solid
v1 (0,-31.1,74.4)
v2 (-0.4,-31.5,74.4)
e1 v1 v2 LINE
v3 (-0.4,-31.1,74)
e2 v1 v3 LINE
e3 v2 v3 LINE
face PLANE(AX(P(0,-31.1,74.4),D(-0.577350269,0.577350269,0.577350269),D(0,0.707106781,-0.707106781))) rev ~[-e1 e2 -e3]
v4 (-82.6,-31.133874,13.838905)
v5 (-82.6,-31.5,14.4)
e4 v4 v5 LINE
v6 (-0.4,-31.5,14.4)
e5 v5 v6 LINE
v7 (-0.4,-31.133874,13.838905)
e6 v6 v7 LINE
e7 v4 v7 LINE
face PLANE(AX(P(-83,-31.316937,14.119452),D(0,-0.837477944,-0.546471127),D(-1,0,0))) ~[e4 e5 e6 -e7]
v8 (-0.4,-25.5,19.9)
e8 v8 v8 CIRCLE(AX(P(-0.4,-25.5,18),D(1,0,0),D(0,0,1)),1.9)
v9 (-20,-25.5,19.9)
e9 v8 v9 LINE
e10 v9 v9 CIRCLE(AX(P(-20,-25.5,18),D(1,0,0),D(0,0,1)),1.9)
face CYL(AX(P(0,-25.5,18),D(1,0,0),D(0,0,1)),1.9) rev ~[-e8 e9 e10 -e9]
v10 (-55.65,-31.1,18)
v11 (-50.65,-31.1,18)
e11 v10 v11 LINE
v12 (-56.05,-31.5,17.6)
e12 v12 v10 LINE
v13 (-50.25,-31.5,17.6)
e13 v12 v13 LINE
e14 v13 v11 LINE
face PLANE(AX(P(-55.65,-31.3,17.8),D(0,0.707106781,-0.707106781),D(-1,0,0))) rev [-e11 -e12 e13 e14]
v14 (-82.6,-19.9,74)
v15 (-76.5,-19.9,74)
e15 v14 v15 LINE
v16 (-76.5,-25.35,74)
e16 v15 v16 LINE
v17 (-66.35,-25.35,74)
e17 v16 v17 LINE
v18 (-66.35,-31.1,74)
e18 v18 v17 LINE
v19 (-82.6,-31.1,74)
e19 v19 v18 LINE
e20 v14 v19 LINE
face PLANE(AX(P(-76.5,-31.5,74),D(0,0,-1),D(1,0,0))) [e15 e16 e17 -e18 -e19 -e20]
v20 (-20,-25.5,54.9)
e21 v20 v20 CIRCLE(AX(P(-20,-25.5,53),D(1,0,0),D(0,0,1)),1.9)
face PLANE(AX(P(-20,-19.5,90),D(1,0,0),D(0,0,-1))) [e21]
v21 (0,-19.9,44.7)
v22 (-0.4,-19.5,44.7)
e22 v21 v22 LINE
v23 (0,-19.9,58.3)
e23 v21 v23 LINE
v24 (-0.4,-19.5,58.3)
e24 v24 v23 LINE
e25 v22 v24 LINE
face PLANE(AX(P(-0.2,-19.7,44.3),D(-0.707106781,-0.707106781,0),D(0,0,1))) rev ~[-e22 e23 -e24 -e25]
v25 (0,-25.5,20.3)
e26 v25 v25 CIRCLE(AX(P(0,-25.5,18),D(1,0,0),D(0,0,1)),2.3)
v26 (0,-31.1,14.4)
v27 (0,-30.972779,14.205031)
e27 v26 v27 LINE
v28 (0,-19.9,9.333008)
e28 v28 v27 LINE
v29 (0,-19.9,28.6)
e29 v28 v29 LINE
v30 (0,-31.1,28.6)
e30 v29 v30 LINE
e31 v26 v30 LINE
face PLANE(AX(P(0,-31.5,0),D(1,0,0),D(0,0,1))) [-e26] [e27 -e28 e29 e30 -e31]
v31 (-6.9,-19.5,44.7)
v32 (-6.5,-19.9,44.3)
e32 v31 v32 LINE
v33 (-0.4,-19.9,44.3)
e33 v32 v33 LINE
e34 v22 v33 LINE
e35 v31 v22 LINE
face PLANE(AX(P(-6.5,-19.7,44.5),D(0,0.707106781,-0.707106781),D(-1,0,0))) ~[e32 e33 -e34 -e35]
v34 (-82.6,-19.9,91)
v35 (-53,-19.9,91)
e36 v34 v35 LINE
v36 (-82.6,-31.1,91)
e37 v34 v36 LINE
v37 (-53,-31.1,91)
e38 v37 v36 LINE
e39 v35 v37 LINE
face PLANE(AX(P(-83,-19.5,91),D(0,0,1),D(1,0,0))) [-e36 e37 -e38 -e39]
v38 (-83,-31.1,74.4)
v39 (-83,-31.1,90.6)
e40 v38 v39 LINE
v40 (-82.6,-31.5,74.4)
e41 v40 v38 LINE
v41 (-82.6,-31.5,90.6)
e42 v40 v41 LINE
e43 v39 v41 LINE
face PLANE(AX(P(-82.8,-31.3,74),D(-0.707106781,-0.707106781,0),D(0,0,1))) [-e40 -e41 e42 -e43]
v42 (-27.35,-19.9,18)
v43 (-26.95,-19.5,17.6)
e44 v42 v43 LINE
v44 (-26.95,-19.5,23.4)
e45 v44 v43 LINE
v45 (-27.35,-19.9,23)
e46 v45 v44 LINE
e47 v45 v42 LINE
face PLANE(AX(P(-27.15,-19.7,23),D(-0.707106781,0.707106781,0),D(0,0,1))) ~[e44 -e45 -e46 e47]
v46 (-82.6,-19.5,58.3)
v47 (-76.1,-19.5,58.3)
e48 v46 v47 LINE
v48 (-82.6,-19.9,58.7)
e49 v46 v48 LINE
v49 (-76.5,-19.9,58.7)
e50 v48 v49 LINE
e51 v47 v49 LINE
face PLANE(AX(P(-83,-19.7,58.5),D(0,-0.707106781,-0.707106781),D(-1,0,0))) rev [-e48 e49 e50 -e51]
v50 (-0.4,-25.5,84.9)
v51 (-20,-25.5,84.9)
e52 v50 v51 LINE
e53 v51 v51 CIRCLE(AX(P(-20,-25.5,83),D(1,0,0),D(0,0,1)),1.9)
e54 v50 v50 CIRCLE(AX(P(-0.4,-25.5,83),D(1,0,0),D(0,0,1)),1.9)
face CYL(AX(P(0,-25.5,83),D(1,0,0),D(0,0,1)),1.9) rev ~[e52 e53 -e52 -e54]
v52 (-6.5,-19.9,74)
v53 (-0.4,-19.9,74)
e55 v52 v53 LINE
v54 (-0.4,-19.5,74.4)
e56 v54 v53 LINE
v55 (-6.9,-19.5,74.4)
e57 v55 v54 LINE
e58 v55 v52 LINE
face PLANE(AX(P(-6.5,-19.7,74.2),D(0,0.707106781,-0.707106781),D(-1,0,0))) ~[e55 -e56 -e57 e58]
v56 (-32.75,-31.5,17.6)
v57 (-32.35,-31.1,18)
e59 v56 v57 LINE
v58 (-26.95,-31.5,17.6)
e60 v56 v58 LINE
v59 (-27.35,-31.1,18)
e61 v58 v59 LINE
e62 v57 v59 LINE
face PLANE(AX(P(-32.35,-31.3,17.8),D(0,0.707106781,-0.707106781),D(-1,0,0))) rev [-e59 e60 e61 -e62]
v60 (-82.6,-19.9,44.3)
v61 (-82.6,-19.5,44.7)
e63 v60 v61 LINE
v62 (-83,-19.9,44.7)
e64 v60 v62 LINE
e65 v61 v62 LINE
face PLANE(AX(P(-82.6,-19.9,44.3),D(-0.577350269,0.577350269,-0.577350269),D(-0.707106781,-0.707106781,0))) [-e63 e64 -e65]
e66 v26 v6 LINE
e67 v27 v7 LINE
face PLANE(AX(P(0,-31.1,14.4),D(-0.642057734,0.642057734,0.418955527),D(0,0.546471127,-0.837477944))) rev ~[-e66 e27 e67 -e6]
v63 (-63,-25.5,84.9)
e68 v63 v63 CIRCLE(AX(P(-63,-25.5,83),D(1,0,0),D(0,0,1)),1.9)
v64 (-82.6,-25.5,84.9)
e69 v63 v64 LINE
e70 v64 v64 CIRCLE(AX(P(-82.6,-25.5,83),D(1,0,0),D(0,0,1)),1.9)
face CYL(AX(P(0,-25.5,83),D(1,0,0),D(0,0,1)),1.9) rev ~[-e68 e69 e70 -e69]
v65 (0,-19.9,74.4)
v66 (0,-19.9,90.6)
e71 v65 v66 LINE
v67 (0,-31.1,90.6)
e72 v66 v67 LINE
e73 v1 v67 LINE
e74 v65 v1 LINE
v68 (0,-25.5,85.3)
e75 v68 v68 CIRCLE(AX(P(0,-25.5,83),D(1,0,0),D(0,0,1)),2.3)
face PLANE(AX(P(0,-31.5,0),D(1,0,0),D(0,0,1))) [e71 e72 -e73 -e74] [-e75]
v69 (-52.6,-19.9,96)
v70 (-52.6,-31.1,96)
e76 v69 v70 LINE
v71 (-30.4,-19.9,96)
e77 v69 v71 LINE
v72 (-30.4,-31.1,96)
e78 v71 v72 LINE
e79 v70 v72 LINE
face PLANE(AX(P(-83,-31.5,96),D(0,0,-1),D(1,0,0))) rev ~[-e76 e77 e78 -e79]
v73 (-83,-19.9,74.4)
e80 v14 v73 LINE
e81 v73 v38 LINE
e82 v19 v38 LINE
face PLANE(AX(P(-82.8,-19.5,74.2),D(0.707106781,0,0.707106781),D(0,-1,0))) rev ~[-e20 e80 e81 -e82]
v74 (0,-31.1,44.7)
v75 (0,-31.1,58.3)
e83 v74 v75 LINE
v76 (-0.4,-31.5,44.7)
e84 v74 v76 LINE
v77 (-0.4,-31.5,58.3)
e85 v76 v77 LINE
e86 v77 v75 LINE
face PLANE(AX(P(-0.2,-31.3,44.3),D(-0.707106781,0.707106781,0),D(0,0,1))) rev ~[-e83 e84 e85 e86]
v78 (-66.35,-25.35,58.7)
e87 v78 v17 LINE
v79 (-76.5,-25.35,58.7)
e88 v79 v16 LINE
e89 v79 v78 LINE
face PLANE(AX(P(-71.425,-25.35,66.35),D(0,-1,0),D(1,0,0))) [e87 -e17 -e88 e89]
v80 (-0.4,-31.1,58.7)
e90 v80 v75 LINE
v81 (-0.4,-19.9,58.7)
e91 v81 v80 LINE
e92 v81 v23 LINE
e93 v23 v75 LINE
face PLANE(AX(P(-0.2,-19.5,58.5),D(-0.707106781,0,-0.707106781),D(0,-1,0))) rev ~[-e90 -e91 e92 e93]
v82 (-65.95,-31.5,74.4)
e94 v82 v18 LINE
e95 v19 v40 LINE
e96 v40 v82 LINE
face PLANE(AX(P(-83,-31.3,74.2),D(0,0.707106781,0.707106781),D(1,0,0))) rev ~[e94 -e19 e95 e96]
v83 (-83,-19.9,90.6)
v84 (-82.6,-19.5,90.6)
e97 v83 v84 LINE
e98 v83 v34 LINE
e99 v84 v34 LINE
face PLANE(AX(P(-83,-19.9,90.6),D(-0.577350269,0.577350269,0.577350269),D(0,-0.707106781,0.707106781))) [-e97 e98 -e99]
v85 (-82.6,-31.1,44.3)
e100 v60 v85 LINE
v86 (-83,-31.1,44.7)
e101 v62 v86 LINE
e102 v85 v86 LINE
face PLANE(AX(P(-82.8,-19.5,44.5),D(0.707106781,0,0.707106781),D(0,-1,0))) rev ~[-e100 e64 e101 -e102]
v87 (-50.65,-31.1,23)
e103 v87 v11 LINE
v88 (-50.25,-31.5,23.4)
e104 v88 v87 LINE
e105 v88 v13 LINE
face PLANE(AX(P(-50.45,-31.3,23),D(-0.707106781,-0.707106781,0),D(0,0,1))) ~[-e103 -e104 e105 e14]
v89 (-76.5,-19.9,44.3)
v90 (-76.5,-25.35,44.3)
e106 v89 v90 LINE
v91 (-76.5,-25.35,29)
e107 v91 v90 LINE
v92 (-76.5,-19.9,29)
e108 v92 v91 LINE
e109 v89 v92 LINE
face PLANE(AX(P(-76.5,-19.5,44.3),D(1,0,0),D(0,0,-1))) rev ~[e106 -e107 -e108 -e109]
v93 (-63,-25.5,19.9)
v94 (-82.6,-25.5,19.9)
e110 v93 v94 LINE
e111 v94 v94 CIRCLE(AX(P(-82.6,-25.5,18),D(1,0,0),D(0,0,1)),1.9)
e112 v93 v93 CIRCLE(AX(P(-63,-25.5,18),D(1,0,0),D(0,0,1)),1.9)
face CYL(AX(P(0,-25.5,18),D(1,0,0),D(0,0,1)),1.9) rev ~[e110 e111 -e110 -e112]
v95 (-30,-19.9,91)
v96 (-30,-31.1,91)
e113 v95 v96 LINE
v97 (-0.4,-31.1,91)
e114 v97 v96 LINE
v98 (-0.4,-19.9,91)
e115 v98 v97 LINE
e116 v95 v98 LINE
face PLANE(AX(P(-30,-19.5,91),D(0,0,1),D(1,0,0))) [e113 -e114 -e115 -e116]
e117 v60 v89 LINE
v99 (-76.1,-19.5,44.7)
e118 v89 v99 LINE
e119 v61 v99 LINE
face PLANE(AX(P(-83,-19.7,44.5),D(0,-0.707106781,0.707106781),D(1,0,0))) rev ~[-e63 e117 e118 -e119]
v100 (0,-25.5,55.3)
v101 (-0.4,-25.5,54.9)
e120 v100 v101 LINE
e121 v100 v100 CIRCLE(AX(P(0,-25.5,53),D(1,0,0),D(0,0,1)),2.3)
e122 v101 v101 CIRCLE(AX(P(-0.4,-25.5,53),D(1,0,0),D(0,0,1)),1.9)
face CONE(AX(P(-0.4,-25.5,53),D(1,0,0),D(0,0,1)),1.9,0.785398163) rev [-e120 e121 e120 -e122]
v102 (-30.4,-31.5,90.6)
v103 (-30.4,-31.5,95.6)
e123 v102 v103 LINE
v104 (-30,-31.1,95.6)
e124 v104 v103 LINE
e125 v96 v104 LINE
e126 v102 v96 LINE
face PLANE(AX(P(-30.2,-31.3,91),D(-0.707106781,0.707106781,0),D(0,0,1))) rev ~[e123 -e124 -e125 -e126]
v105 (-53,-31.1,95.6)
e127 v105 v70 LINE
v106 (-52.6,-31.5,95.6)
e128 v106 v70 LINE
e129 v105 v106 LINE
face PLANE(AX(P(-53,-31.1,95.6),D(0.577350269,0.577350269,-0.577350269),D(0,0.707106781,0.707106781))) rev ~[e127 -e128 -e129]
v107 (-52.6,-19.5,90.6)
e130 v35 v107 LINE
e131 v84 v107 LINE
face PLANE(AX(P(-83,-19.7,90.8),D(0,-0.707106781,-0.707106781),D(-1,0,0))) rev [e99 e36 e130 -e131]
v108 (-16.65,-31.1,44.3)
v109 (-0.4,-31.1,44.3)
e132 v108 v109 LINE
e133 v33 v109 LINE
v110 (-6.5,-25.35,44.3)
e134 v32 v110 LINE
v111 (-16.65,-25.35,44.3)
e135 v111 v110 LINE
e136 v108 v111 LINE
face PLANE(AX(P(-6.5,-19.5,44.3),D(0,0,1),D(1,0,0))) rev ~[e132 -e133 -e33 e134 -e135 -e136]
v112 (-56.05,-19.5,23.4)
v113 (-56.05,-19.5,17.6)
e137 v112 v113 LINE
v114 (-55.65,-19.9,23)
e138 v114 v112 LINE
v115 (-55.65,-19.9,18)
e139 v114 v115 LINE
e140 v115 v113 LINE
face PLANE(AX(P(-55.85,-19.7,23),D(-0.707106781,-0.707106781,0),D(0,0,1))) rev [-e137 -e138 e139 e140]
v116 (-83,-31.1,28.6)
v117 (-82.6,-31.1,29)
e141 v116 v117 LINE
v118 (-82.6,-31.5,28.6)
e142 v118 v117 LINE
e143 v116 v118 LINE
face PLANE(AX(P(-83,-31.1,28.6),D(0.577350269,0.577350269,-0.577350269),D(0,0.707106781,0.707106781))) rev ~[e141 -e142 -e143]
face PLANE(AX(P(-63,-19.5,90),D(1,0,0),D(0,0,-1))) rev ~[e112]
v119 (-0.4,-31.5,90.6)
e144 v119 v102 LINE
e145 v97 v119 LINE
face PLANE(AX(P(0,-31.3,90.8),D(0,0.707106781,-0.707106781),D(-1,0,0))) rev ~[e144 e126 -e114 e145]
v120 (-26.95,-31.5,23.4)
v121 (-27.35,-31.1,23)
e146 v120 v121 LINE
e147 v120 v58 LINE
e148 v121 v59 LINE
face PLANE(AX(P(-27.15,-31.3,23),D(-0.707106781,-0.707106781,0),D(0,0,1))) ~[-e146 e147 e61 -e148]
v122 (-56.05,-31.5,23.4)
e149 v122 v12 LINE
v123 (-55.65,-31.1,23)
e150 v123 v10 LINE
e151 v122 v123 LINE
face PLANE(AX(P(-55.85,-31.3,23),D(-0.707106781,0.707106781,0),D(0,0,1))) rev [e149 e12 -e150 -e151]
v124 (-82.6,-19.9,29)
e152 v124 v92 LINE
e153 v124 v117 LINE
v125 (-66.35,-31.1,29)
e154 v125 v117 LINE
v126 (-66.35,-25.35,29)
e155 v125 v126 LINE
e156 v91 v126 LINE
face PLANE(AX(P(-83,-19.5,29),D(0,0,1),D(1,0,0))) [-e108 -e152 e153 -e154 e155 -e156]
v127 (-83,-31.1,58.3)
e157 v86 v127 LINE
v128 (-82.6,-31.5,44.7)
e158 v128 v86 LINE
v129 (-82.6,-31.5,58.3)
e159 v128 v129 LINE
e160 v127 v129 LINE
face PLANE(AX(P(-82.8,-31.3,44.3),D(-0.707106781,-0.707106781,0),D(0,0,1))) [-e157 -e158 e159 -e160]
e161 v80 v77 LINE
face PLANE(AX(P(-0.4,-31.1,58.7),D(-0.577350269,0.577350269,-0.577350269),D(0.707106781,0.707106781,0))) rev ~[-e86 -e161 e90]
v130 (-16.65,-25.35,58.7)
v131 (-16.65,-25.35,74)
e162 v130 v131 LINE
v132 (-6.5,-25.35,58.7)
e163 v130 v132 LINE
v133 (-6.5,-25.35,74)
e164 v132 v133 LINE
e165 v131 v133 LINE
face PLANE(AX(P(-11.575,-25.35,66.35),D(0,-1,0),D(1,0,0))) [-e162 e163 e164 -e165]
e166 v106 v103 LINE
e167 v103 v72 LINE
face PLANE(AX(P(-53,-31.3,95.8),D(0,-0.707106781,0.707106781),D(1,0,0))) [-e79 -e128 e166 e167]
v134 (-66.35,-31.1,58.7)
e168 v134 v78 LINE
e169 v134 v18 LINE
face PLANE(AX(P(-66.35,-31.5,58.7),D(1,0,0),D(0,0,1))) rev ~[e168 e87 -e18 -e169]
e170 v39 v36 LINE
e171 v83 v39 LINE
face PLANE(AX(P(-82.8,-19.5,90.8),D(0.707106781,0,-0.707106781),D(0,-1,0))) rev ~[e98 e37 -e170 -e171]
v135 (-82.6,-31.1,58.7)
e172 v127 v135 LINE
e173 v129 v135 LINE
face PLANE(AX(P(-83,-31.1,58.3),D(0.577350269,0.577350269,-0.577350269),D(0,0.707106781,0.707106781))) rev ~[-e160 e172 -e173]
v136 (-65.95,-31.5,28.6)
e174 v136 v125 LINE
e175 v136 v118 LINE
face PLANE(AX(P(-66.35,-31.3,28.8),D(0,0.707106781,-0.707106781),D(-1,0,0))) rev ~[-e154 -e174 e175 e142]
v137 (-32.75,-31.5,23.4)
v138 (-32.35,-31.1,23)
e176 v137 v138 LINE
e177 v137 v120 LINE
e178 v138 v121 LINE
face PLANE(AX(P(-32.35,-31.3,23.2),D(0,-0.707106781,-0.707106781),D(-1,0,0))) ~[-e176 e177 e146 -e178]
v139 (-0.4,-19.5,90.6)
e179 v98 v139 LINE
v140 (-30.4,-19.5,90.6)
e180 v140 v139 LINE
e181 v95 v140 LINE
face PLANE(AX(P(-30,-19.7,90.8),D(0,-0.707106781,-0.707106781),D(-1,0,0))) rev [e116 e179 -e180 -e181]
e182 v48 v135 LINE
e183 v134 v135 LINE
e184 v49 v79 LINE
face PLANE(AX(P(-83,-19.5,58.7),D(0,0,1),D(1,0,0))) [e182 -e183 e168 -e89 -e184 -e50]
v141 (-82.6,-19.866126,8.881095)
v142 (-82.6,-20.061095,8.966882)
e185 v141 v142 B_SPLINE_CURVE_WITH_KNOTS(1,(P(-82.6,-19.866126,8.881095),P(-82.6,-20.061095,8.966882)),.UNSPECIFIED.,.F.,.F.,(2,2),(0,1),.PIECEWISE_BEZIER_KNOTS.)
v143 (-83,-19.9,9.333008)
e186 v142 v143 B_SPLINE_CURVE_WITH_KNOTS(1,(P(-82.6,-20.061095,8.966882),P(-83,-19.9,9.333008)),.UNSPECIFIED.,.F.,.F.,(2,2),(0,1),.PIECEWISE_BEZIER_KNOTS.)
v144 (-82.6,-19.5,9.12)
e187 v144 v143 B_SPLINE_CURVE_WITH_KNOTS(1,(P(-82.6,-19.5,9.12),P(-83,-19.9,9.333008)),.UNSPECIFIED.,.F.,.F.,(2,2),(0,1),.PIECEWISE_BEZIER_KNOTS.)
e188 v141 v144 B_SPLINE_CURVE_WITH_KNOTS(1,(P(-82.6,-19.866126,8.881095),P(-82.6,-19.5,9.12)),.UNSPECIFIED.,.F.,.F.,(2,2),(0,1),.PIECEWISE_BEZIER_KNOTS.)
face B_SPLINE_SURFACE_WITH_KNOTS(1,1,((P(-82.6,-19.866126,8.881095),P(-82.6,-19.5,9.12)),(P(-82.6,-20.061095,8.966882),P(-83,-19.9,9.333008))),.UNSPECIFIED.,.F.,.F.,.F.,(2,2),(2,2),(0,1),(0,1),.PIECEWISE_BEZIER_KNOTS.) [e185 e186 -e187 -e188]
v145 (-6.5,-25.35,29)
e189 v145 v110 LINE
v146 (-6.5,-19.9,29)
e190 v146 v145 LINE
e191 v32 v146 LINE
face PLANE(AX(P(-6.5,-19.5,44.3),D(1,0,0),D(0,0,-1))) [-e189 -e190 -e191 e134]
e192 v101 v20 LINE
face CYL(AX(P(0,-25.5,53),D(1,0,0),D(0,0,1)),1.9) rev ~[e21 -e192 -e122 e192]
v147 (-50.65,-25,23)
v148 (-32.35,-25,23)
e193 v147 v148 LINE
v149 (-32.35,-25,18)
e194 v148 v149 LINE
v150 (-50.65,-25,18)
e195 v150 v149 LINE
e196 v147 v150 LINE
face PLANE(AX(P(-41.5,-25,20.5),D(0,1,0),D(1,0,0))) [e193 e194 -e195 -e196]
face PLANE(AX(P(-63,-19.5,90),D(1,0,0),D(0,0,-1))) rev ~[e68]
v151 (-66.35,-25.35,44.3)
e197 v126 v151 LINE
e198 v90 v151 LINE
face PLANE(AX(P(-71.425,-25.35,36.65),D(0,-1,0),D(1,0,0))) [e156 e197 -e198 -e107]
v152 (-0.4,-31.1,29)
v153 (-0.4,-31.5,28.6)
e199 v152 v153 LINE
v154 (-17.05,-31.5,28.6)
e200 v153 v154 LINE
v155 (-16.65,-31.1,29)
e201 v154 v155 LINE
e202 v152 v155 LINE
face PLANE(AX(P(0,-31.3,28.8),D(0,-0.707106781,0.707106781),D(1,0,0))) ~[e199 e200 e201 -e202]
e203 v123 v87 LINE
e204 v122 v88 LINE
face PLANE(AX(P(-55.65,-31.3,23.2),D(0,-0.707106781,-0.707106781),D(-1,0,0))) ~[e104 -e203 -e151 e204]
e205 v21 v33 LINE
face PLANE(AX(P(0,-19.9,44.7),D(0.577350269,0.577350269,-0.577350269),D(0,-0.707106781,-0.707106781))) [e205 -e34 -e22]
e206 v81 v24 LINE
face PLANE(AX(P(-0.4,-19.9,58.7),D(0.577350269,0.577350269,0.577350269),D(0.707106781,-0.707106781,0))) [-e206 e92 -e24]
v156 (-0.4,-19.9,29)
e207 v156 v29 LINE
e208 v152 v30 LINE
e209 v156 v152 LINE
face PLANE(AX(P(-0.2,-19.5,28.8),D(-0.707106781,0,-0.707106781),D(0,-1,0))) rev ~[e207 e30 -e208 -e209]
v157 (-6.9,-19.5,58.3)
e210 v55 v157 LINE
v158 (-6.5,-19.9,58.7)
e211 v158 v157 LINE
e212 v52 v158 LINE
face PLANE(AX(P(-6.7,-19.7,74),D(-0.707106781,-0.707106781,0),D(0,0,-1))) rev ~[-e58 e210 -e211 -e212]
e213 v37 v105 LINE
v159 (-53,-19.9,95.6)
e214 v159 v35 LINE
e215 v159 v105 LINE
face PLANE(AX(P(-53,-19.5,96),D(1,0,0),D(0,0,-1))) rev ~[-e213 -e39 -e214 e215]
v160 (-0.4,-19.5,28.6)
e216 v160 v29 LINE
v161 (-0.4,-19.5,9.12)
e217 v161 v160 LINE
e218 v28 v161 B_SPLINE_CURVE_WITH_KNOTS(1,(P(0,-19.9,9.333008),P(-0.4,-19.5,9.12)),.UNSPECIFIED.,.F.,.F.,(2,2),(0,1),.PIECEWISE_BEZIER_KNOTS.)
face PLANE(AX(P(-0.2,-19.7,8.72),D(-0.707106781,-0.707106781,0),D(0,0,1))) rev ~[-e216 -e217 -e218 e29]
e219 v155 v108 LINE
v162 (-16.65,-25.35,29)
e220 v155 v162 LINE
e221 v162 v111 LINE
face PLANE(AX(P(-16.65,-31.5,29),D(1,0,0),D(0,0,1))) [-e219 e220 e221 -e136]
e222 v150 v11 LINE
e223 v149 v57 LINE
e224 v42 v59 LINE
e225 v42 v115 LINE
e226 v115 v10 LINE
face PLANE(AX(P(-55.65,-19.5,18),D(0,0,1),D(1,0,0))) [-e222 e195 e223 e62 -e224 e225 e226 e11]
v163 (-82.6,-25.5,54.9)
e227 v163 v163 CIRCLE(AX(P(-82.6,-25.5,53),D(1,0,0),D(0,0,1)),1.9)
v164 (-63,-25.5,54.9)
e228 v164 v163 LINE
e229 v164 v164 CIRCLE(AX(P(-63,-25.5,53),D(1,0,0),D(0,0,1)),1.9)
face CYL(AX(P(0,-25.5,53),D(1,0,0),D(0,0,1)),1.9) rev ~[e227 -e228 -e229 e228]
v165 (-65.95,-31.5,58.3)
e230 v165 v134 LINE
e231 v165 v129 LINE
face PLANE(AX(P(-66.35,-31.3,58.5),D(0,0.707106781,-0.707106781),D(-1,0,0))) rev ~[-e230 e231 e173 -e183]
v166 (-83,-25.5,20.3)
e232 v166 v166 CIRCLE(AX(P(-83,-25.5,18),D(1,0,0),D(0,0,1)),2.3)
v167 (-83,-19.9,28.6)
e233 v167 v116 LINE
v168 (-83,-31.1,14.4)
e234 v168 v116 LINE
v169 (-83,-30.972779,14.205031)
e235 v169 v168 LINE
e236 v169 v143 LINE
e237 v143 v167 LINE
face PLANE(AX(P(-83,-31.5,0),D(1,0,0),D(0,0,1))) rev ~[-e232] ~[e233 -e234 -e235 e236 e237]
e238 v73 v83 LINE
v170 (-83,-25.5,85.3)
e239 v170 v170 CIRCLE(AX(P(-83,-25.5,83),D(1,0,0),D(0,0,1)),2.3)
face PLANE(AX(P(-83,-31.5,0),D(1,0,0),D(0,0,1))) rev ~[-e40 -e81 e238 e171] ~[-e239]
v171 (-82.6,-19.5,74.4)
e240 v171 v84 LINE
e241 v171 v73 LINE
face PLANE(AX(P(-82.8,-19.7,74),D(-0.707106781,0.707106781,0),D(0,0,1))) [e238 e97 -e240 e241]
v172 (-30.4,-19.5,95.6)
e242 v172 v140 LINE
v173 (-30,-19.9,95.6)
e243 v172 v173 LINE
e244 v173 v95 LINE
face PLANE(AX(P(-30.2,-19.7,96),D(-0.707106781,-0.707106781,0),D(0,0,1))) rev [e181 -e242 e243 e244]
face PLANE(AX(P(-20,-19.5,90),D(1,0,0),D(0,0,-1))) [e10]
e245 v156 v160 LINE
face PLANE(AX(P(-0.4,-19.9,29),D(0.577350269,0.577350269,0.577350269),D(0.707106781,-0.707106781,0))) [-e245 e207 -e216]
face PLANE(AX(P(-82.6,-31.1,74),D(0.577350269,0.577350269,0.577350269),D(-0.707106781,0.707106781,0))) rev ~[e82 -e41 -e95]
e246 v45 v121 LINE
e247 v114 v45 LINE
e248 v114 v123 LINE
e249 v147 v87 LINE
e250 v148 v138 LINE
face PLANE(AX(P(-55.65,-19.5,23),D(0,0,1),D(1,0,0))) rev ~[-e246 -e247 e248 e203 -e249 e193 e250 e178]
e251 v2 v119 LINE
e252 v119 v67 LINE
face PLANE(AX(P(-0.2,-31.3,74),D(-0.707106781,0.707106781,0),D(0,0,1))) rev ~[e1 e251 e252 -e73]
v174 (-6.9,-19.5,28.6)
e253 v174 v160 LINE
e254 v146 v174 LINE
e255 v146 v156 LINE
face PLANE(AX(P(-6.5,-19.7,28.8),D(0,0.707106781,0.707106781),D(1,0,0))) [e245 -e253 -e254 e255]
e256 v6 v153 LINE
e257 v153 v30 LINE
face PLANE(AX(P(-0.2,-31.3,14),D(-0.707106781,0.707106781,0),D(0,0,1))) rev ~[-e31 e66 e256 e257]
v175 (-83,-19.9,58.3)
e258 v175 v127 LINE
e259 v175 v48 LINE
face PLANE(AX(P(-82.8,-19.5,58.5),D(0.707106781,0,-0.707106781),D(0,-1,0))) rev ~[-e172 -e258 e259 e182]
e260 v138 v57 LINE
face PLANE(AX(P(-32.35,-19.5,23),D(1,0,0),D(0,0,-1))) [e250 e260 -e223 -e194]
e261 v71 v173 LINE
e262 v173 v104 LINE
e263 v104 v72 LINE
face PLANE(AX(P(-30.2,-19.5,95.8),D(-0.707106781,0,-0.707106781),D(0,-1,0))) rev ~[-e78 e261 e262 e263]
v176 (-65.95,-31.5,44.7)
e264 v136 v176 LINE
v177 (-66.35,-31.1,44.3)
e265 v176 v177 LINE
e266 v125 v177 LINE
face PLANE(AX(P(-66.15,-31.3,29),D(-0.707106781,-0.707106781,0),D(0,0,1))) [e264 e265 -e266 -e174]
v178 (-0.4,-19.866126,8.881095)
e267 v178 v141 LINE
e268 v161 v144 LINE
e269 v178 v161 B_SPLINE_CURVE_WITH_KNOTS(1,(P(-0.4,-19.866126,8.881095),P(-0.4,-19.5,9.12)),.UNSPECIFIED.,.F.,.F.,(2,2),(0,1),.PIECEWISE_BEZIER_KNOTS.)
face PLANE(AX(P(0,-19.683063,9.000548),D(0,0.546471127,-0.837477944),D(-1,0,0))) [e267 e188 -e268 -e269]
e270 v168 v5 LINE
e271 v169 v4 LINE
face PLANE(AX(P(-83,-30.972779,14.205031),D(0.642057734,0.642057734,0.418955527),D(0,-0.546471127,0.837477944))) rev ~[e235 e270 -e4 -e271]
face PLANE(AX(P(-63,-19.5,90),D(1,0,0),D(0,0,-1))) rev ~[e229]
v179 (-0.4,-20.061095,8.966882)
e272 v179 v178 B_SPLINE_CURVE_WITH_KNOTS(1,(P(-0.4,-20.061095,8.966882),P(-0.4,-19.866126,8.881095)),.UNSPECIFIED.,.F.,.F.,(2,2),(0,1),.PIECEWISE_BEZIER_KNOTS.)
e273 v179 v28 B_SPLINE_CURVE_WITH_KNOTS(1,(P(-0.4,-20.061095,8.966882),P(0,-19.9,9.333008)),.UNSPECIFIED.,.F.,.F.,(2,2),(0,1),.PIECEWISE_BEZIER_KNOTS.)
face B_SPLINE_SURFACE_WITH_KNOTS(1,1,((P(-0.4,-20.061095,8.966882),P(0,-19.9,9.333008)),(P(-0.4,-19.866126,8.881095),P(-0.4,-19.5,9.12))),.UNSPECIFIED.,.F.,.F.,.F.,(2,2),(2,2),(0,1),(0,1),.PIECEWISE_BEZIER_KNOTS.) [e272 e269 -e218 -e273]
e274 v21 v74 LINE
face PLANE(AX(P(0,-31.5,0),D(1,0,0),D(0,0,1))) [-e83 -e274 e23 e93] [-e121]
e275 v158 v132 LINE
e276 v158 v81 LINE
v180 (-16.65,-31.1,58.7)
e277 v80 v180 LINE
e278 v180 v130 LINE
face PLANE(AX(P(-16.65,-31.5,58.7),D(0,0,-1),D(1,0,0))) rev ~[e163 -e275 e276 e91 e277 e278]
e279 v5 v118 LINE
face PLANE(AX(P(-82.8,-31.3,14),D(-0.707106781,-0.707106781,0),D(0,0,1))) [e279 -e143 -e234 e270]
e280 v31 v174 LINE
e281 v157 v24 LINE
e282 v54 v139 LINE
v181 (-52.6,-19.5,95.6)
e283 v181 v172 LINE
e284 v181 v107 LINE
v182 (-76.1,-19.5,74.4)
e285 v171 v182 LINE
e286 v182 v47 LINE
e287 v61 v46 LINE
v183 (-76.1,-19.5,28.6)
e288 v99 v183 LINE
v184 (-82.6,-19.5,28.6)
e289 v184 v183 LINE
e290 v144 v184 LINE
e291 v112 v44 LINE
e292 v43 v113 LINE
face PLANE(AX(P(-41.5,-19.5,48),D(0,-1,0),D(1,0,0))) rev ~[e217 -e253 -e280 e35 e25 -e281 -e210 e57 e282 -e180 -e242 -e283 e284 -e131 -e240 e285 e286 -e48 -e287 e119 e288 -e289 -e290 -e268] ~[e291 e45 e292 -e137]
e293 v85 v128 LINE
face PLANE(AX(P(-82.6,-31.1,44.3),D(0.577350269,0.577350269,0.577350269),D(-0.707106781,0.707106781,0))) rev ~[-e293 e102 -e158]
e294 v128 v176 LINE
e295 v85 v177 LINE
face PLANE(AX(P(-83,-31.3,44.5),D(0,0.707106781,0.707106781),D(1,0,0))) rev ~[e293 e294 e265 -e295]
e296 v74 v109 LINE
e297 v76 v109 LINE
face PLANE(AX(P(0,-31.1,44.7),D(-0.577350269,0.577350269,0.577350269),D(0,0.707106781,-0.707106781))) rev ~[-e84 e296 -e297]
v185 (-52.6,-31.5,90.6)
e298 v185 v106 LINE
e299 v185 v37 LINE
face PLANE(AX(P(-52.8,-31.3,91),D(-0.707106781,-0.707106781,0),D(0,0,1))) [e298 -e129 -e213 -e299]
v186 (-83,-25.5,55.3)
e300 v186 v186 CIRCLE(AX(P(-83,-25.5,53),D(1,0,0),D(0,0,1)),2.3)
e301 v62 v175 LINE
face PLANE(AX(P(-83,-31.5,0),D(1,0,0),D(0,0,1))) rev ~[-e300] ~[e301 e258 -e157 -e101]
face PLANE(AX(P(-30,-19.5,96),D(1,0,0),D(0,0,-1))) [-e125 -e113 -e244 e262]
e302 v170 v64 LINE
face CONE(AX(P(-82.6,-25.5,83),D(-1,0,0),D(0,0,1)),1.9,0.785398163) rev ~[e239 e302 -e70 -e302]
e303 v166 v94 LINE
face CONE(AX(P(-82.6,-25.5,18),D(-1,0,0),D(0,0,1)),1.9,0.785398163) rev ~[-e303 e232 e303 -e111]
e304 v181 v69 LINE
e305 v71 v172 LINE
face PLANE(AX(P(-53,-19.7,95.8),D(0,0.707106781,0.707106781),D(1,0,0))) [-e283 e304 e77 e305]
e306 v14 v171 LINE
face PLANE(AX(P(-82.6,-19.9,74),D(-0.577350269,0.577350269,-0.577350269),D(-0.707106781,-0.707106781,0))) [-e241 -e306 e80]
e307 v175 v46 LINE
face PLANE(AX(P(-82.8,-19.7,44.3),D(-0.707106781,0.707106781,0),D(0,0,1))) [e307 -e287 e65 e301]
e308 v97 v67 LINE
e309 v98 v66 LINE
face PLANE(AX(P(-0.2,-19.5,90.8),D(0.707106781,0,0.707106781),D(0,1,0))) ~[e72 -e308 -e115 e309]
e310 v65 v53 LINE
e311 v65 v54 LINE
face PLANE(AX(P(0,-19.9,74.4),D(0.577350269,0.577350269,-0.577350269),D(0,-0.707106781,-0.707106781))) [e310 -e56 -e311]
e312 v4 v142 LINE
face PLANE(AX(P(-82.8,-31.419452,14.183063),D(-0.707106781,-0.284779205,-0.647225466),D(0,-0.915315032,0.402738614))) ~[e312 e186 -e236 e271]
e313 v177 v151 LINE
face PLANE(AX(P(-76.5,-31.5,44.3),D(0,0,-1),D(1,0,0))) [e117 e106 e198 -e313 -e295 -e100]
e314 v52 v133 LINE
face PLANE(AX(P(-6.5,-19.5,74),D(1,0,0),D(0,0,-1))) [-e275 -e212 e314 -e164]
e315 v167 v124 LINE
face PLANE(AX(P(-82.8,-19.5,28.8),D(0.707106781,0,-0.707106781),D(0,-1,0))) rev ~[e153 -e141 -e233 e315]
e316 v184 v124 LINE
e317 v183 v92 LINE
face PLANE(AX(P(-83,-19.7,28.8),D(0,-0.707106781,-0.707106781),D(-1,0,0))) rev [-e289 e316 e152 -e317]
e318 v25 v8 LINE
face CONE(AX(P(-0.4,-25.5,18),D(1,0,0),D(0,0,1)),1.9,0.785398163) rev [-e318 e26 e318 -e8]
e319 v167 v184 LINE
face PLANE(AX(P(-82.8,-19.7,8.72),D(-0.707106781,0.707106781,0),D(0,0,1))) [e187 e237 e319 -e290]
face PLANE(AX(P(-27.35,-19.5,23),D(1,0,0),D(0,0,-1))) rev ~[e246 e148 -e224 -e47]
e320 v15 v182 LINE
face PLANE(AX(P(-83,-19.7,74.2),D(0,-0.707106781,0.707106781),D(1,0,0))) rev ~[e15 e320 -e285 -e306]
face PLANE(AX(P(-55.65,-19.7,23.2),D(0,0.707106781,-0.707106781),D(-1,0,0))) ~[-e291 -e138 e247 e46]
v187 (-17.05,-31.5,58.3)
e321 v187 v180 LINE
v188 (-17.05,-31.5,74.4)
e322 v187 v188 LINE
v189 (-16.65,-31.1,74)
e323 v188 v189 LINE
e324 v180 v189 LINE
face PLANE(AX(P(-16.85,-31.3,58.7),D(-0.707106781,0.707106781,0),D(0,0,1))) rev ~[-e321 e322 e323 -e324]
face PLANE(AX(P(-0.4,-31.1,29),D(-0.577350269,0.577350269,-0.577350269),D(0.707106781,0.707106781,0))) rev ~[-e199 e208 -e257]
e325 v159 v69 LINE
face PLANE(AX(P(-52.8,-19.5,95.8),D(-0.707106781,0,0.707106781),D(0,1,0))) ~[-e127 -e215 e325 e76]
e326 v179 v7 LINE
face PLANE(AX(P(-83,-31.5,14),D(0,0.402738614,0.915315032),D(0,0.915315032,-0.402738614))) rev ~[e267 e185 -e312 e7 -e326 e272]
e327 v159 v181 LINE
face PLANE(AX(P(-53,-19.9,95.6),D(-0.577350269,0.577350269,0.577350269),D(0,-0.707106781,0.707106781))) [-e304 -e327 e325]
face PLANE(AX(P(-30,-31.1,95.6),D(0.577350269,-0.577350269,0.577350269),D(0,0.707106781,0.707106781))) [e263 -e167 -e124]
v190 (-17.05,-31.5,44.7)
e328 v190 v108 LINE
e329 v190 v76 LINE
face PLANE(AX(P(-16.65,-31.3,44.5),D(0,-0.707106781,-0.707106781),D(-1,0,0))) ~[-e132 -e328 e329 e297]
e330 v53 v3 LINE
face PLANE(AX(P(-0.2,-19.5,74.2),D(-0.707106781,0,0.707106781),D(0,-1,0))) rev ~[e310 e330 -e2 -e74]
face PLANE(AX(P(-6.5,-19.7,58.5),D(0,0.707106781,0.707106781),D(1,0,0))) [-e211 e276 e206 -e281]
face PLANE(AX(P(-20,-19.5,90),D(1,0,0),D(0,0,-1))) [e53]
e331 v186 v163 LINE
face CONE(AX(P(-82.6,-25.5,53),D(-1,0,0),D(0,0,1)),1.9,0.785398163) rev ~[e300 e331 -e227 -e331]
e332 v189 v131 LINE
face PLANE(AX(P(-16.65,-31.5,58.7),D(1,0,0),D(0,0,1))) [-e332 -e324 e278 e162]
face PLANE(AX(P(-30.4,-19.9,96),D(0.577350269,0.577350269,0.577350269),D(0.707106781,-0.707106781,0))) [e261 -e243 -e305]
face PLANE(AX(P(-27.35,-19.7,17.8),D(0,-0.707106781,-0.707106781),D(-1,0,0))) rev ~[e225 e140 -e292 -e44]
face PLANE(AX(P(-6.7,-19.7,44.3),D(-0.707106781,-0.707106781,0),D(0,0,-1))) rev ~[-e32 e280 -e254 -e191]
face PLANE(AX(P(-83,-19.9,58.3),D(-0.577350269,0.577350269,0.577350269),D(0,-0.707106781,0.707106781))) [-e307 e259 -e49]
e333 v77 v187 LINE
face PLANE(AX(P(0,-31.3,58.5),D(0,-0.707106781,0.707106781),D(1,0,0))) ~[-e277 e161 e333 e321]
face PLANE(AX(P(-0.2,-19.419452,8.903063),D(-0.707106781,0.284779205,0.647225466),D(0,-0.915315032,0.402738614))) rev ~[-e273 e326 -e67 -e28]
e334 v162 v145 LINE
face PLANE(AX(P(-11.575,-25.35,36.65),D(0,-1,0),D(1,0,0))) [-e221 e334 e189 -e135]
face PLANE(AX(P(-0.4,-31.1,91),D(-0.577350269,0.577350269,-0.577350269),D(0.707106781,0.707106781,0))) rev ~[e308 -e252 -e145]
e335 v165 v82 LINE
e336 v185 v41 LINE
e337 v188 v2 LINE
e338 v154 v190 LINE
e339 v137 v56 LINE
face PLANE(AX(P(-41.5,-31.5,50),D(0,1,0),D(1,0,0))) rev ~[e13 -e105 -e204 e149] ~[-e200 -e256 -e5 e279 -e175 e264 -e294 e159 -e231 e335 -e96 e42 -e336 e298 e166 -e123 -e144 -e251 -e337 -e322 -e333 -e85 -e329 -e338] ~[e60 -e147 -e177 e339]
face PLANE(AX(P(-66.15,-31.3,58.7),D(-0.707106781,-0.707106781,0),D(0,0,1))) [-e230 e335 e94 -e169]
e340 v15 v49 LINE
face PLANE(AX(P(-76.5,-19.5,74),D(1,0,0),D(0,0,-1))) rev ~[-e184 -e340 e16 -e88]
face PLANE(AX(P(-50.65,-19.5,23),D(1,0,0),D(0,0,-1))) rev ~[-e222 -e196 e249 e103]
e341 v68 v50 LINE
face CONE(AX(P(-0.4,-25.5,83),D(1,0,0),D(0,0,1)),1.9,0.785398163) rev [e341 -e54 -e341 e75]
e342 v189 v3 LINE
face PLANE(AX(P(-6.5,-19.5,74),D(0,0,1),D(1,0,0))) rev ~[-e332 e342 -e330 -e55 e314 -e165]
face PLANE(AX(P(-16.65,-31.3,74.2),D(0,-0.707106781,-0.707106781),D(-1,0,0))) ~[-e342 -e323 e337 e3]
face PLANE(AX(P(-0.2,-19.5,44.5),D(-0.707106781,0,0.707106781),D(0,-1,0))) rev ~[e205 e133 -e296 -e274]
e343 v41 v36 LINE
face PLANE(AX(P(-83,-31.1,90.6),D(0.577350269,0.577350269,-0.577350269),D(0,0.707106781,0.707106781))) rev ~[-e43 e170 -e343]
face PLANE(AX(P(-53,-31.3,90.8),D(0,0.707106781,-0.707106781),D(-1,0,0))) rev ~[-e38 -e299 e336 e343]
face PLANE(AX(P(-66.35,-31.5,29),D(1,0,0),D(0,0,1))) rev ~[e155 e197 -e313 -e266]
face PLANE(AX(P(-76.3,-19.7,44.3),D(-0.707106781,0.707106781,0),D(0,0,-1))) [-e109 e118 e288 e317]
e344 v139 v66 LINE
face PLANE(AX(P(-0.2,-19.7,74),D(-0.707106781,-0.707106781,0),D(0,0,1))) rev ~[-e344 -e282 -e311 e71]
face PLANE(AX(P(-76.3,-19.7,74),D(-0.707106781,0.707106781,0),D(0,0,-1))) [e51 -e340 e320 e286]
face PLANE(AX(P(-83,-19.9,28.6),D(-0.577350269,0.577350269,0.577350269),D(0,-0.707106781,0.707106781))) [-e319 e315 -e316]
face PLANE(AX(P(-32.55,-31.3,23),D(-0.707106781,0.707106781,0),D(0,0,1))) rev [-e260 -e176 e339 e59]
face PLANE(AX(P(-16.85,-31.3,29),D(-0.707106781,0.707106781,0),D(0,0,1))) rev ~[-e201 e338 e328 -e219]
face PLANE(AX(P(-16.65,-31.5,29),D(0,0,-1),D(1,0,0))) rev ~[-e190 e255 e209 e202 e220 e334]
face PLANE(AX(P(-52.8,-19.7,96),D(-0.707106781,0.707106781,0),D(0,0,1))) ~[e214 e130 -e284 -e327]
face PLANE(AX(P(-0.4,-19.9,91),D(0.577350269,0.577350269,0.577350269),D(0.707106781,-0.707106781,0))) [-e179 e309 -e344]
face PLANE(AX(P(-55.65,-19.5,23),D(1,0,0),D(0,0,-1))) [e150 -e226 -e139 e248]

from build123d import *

# Parameters (mm, degrees)
SKETCH005_W     = 83
SKETCH005_H     = 96
PAD003_DEPTH    = 12
SKETCH006_R     = 1.9
POCKET002_DEPTH = 83.001
SKETCH007_W     = 30
SKETCH007_H     = 5
POCKET003_DEPTH = 12.001
SKETCH009_W     = 6.5
SKETCH009_H     = 15.3
POCKET005_DEPTH = 12.001
SKETCH010_W     = 10.15
SKETCH010_H     = 15.3
POCKET006_DEPTH = 6.15
SKETCH025_W     = 43
SKETCH025_H     = 80
PAD008_DEPTH    = 12
SKETCH026_W     = 5
SKETCH026_H     = 5
POCKET017_DEPTH = 12.001
SKETCH027_W     = 18.3
SKETCH027_H     = 5
POCKET018_DEPTH = 5.5
POCKET019_DEPTH = 83.001
CHAMFER_SIZE    = 0.4


with BuildPart() as part:
    # Sketch005 → Pad003 (new body)
    with BuildSketch(Plane.XZ):
        with Locations((-41.5, 48)):
            Rectangle(SKETCH005_W, SKETCH005_H)
    extrude(amount=-PAD003_DEPTH)

    # Sketch006 (on Face4 of Pad003) → Pocket002 (cut, through all)
    with BuildSketch(Plane(origin=(0, 0, 0), x_dir=(0, 0, 1), z_dir=(1, 0, 0))):
        with Locations((18, -6)):
            Circle(SKETCH006_R)
        with Locations((53, -6)):
            Circle(SKETCH006_R)
        with Locations((83, -6)):
            Circle(SKETCH006_R)
    extrude(amount=-POCKET002_DEPTH, mode=Mode.SUBTRACT)

    # Sketch007 (on Face5 of Pocket002) → Pocket003 (cut, through all)
    with BuildSketch(Plane(origin=(0, 12, 0), x_dir=(1, 0, 0), z_dir=(0, 1, 0))):
        with Locations((-68, -93.5)):
            Rectangle(SKETCH007_W, SKETCH007_H)
        with Locations((-15, -93.5)):
            Rectangle(SKETCH007_W, SKETCH007_H)
    extrude(amount=-POCKET003_DEPTH, mode=Mode.SUBTRACT)

    # Sketch009 (on Face5 of Pocket003) → Pocket005 (cut, through all)
    with BuildSketch(Plane(origin=(0, 12, 0), x_dir=(1, 0, 0), z_dir=(0, 1, 0))):
        with Locations((-79.75, -36.65)):
            Rectangle(SKETCH009_W, SKETCH009_H)
        with Locations((-79.75, -66.35)):
            Rectangle(SKETCH009_W, SKETCH009_H)
        with Locations((-3.25, -36.65)):
            Rectangle(SKETCH009_W, SKETCH009_H)
        with Locations((-3.25, -66.35)):
            Rectangle(SKETCH009_W, SKETCH009_H)
    extrude(amount=-POCKET005_DEPTH, mode=Mode.SUBTRACT)

    # Sketch010 (on Face4 of Pocket005) → Pocket006 (cut)
    with BuildSketch(Plane.XZ):
        with Locations((-71.425, 66.35)):
            Rectangle(SKETCH010_W, SKETCH010_H)
        with Locations((-71.425, 36.65)):
            Rectangle(SKETCH010_W, SKETCH010_H)
        with Locations((-11.575, 66.35)):
            Rectangle(SKETCH010_W, SKETCH010_H)
        with Locations((-11.575, 36.65)):
            Rectangle(SKETCH010_W, SKETCH010_H)
    extrude(amount=-POCKET006_DEPTH, mode=Mode.SUBTRACT)

    # Sketch025 (on Face5 of Pocket006) → Pad008 (join)
    with BuildSketch(Plane(origin=(0, 12, 0), x_dir=(1, 0, 0), z_dir=(0, 1, 0))):
        with Locations((-41.5, -50)):
            Rectangle(SKETCH025_W, SKETCH025_H)
    extrude(amount=-PAD008_DEPTH)

    # Sketch026 (on Face5 of Pad008) → Pocket017 (cut, through all)
    with BuildSketch(Plane(origin=(0, 12, 0), x_dir=(1, 0, 0), z_dir=(0, 1, 0))):
        with Locations((-53.15, -20.5)):
            Rectangle(SKETCH026_W, SKETCH026_H)
        with Locations((-29.85, -20.5)):
            Rectangle(SKETCH026_W, SKETCH026_H)
    extrude(amount=-POCKET017_DEPTH, mode=Mode.SUBTRACT)

    # Sketch027 (on Face5 of Pocket017) → Pocket018 (cut)
    with BuildSketch(Plane(origin=(0, 12, 0), x_dir=(1, 0, 0), z_dir=(0, 1, 0))):
        with Locations((-41.5, -20.5)):
            Rectangle(SKETCH027_W, SKETCH027_H)
    extrude(amount=-POCKET018_DEPTH, mode=Mode.SUBTRACT)

    # Sketch028 (on Face3 of Pocket018) → Pocket019 (cut, through all)
    with BuildSketch(Plane(origin=(-83, 0, 0), x_dir=(0, 0, -1), z_dir=(-1, 0, 0))):
        Polygon((0, 0), (-14, 0), (-3, -25), (0, -25), align=None)
    extrude(amount=-POCKET019_DEPTH, mode=Mode.SUBTRACT)

    # Chamfer
    chamfer_edges = [part.edges().sort_by_distance(p)[0] for p in [
        (-30, 12, 93.5),
        (-41.5, 12, 96),
        (-53, 12, 93.5),
        (-68, 12, 91),
        (-83, 12, 82.5),
        (-79.75, 12, 74),
        (-76.5, 12, 66.35),
        (-79.75, 12, 58.7),
        (-83, 12, 51.5),
        (-79.75, 12, 44.3),
        (-76.5, 12, 36.65),
        (-79.75, 12, 29),
        (-83, 12, 18.86),
        (-41.5, 12, 8.72),
        (0, 12, 18.86),
        (-3.25, 12, 29),
        (-6.5, 12, 36.65),
        (-3.25, 12, 44.3),
        (0, 12, 51.5),
        (-3.25, 12, 58.7),
        (-6.5, 12, 66.35),
        (-3.25, 12, 74),
        (0, 12, 82.5),
        (-15, 12, 91),
        (-53.15, 12, 23),
        (-41.5, 12, 23),
        (-55.65, 12, 20.5),
        (-29.85, 12, 23),
        (-53.15, 12, 18),
        (-27.35, 12, 20.5),
        (-41.5, 12, 18),
        (-29.85, 12, 18),
        (-41.5, 0, 96),
        (-53, 0, 93.5),
        (-68, 0, 91),
        (-83, 0, 82.5),
        (-79.75, 0, 74),
        (-71.425, 0, 74),
        (-66.35, 0, 66.35),
        (-71.425, 0, 58.7),
        (-79.75, 0, 58.7),
        (-83, 0, 51.5),
        (-79.75, 0, 44.3),
        (-71.425, 0, 44.3),
        (-66.35, 0, 36.65),
        (-71.425, 0, 29),
        (-79.75, 0, 29),
        (-83, 0, 21.5),
        (-41.5, 0, 14),
        (0, 0, 21.5),
        (-3.25, 0, 29),
        (-11.575, 0, 29),
        (-16.65, 0, 36.65),
        (-11.575, 0, 44.3),
        (-3.25, 0, 44.3),
        (0, 0, 51.5),
        (-3.25, 0, 58.7),
        (-11.575, 0, 58.7),
        (-16.65, 0, 66.35),
        (-11.575, 0, 74),
        (-3.25, 0, 74),
        (0, 0, 82.5),
        (-15, 0, 91),
        (-30, 0, 93.5),
        (-55.65, 0, 20.5),
        (-53.15, 0, 23),
        (-53.15, 0, 18),
        (-50.65, 0, 20.5),
        (-32.35, 0, 20.5),
        (-29.85, 0, 23),
        (-29.85, 0, 18),
        (-27.35, 0, 20.5),
        (-83, 6, 29),
        (-83, 6, 11.36),
        (-83, 6, 16.1),
        (-83, 6, 58.7),
        (-83, 6, 44.3),
        (-83, 6, 51.1),
        (-83, 6, 91),
        (-83, 6, 74),
        (-83, 6, 81.1),
        (0, 6, 74),
        (0, 6, 91),
        (0, 6, 81.1),
        (0, 6, 44.3),
        (0, 6, 58.7),
        (0, 6, 51.1),
        (0, 6, 11.36),
        (0, 6, 29),
        (0, 6, 16.1),
        (-30, 6, 96),
        (-53, 6, 96),
    ]]
    chamfer(chamfer_edges, length=CHAMFER_SIZE)


with BuildPart() as part_1:
    # Body001 placement: moved
    add(part.part.moved(Location((0, -31.5, 0))))


solid = part_1.part
